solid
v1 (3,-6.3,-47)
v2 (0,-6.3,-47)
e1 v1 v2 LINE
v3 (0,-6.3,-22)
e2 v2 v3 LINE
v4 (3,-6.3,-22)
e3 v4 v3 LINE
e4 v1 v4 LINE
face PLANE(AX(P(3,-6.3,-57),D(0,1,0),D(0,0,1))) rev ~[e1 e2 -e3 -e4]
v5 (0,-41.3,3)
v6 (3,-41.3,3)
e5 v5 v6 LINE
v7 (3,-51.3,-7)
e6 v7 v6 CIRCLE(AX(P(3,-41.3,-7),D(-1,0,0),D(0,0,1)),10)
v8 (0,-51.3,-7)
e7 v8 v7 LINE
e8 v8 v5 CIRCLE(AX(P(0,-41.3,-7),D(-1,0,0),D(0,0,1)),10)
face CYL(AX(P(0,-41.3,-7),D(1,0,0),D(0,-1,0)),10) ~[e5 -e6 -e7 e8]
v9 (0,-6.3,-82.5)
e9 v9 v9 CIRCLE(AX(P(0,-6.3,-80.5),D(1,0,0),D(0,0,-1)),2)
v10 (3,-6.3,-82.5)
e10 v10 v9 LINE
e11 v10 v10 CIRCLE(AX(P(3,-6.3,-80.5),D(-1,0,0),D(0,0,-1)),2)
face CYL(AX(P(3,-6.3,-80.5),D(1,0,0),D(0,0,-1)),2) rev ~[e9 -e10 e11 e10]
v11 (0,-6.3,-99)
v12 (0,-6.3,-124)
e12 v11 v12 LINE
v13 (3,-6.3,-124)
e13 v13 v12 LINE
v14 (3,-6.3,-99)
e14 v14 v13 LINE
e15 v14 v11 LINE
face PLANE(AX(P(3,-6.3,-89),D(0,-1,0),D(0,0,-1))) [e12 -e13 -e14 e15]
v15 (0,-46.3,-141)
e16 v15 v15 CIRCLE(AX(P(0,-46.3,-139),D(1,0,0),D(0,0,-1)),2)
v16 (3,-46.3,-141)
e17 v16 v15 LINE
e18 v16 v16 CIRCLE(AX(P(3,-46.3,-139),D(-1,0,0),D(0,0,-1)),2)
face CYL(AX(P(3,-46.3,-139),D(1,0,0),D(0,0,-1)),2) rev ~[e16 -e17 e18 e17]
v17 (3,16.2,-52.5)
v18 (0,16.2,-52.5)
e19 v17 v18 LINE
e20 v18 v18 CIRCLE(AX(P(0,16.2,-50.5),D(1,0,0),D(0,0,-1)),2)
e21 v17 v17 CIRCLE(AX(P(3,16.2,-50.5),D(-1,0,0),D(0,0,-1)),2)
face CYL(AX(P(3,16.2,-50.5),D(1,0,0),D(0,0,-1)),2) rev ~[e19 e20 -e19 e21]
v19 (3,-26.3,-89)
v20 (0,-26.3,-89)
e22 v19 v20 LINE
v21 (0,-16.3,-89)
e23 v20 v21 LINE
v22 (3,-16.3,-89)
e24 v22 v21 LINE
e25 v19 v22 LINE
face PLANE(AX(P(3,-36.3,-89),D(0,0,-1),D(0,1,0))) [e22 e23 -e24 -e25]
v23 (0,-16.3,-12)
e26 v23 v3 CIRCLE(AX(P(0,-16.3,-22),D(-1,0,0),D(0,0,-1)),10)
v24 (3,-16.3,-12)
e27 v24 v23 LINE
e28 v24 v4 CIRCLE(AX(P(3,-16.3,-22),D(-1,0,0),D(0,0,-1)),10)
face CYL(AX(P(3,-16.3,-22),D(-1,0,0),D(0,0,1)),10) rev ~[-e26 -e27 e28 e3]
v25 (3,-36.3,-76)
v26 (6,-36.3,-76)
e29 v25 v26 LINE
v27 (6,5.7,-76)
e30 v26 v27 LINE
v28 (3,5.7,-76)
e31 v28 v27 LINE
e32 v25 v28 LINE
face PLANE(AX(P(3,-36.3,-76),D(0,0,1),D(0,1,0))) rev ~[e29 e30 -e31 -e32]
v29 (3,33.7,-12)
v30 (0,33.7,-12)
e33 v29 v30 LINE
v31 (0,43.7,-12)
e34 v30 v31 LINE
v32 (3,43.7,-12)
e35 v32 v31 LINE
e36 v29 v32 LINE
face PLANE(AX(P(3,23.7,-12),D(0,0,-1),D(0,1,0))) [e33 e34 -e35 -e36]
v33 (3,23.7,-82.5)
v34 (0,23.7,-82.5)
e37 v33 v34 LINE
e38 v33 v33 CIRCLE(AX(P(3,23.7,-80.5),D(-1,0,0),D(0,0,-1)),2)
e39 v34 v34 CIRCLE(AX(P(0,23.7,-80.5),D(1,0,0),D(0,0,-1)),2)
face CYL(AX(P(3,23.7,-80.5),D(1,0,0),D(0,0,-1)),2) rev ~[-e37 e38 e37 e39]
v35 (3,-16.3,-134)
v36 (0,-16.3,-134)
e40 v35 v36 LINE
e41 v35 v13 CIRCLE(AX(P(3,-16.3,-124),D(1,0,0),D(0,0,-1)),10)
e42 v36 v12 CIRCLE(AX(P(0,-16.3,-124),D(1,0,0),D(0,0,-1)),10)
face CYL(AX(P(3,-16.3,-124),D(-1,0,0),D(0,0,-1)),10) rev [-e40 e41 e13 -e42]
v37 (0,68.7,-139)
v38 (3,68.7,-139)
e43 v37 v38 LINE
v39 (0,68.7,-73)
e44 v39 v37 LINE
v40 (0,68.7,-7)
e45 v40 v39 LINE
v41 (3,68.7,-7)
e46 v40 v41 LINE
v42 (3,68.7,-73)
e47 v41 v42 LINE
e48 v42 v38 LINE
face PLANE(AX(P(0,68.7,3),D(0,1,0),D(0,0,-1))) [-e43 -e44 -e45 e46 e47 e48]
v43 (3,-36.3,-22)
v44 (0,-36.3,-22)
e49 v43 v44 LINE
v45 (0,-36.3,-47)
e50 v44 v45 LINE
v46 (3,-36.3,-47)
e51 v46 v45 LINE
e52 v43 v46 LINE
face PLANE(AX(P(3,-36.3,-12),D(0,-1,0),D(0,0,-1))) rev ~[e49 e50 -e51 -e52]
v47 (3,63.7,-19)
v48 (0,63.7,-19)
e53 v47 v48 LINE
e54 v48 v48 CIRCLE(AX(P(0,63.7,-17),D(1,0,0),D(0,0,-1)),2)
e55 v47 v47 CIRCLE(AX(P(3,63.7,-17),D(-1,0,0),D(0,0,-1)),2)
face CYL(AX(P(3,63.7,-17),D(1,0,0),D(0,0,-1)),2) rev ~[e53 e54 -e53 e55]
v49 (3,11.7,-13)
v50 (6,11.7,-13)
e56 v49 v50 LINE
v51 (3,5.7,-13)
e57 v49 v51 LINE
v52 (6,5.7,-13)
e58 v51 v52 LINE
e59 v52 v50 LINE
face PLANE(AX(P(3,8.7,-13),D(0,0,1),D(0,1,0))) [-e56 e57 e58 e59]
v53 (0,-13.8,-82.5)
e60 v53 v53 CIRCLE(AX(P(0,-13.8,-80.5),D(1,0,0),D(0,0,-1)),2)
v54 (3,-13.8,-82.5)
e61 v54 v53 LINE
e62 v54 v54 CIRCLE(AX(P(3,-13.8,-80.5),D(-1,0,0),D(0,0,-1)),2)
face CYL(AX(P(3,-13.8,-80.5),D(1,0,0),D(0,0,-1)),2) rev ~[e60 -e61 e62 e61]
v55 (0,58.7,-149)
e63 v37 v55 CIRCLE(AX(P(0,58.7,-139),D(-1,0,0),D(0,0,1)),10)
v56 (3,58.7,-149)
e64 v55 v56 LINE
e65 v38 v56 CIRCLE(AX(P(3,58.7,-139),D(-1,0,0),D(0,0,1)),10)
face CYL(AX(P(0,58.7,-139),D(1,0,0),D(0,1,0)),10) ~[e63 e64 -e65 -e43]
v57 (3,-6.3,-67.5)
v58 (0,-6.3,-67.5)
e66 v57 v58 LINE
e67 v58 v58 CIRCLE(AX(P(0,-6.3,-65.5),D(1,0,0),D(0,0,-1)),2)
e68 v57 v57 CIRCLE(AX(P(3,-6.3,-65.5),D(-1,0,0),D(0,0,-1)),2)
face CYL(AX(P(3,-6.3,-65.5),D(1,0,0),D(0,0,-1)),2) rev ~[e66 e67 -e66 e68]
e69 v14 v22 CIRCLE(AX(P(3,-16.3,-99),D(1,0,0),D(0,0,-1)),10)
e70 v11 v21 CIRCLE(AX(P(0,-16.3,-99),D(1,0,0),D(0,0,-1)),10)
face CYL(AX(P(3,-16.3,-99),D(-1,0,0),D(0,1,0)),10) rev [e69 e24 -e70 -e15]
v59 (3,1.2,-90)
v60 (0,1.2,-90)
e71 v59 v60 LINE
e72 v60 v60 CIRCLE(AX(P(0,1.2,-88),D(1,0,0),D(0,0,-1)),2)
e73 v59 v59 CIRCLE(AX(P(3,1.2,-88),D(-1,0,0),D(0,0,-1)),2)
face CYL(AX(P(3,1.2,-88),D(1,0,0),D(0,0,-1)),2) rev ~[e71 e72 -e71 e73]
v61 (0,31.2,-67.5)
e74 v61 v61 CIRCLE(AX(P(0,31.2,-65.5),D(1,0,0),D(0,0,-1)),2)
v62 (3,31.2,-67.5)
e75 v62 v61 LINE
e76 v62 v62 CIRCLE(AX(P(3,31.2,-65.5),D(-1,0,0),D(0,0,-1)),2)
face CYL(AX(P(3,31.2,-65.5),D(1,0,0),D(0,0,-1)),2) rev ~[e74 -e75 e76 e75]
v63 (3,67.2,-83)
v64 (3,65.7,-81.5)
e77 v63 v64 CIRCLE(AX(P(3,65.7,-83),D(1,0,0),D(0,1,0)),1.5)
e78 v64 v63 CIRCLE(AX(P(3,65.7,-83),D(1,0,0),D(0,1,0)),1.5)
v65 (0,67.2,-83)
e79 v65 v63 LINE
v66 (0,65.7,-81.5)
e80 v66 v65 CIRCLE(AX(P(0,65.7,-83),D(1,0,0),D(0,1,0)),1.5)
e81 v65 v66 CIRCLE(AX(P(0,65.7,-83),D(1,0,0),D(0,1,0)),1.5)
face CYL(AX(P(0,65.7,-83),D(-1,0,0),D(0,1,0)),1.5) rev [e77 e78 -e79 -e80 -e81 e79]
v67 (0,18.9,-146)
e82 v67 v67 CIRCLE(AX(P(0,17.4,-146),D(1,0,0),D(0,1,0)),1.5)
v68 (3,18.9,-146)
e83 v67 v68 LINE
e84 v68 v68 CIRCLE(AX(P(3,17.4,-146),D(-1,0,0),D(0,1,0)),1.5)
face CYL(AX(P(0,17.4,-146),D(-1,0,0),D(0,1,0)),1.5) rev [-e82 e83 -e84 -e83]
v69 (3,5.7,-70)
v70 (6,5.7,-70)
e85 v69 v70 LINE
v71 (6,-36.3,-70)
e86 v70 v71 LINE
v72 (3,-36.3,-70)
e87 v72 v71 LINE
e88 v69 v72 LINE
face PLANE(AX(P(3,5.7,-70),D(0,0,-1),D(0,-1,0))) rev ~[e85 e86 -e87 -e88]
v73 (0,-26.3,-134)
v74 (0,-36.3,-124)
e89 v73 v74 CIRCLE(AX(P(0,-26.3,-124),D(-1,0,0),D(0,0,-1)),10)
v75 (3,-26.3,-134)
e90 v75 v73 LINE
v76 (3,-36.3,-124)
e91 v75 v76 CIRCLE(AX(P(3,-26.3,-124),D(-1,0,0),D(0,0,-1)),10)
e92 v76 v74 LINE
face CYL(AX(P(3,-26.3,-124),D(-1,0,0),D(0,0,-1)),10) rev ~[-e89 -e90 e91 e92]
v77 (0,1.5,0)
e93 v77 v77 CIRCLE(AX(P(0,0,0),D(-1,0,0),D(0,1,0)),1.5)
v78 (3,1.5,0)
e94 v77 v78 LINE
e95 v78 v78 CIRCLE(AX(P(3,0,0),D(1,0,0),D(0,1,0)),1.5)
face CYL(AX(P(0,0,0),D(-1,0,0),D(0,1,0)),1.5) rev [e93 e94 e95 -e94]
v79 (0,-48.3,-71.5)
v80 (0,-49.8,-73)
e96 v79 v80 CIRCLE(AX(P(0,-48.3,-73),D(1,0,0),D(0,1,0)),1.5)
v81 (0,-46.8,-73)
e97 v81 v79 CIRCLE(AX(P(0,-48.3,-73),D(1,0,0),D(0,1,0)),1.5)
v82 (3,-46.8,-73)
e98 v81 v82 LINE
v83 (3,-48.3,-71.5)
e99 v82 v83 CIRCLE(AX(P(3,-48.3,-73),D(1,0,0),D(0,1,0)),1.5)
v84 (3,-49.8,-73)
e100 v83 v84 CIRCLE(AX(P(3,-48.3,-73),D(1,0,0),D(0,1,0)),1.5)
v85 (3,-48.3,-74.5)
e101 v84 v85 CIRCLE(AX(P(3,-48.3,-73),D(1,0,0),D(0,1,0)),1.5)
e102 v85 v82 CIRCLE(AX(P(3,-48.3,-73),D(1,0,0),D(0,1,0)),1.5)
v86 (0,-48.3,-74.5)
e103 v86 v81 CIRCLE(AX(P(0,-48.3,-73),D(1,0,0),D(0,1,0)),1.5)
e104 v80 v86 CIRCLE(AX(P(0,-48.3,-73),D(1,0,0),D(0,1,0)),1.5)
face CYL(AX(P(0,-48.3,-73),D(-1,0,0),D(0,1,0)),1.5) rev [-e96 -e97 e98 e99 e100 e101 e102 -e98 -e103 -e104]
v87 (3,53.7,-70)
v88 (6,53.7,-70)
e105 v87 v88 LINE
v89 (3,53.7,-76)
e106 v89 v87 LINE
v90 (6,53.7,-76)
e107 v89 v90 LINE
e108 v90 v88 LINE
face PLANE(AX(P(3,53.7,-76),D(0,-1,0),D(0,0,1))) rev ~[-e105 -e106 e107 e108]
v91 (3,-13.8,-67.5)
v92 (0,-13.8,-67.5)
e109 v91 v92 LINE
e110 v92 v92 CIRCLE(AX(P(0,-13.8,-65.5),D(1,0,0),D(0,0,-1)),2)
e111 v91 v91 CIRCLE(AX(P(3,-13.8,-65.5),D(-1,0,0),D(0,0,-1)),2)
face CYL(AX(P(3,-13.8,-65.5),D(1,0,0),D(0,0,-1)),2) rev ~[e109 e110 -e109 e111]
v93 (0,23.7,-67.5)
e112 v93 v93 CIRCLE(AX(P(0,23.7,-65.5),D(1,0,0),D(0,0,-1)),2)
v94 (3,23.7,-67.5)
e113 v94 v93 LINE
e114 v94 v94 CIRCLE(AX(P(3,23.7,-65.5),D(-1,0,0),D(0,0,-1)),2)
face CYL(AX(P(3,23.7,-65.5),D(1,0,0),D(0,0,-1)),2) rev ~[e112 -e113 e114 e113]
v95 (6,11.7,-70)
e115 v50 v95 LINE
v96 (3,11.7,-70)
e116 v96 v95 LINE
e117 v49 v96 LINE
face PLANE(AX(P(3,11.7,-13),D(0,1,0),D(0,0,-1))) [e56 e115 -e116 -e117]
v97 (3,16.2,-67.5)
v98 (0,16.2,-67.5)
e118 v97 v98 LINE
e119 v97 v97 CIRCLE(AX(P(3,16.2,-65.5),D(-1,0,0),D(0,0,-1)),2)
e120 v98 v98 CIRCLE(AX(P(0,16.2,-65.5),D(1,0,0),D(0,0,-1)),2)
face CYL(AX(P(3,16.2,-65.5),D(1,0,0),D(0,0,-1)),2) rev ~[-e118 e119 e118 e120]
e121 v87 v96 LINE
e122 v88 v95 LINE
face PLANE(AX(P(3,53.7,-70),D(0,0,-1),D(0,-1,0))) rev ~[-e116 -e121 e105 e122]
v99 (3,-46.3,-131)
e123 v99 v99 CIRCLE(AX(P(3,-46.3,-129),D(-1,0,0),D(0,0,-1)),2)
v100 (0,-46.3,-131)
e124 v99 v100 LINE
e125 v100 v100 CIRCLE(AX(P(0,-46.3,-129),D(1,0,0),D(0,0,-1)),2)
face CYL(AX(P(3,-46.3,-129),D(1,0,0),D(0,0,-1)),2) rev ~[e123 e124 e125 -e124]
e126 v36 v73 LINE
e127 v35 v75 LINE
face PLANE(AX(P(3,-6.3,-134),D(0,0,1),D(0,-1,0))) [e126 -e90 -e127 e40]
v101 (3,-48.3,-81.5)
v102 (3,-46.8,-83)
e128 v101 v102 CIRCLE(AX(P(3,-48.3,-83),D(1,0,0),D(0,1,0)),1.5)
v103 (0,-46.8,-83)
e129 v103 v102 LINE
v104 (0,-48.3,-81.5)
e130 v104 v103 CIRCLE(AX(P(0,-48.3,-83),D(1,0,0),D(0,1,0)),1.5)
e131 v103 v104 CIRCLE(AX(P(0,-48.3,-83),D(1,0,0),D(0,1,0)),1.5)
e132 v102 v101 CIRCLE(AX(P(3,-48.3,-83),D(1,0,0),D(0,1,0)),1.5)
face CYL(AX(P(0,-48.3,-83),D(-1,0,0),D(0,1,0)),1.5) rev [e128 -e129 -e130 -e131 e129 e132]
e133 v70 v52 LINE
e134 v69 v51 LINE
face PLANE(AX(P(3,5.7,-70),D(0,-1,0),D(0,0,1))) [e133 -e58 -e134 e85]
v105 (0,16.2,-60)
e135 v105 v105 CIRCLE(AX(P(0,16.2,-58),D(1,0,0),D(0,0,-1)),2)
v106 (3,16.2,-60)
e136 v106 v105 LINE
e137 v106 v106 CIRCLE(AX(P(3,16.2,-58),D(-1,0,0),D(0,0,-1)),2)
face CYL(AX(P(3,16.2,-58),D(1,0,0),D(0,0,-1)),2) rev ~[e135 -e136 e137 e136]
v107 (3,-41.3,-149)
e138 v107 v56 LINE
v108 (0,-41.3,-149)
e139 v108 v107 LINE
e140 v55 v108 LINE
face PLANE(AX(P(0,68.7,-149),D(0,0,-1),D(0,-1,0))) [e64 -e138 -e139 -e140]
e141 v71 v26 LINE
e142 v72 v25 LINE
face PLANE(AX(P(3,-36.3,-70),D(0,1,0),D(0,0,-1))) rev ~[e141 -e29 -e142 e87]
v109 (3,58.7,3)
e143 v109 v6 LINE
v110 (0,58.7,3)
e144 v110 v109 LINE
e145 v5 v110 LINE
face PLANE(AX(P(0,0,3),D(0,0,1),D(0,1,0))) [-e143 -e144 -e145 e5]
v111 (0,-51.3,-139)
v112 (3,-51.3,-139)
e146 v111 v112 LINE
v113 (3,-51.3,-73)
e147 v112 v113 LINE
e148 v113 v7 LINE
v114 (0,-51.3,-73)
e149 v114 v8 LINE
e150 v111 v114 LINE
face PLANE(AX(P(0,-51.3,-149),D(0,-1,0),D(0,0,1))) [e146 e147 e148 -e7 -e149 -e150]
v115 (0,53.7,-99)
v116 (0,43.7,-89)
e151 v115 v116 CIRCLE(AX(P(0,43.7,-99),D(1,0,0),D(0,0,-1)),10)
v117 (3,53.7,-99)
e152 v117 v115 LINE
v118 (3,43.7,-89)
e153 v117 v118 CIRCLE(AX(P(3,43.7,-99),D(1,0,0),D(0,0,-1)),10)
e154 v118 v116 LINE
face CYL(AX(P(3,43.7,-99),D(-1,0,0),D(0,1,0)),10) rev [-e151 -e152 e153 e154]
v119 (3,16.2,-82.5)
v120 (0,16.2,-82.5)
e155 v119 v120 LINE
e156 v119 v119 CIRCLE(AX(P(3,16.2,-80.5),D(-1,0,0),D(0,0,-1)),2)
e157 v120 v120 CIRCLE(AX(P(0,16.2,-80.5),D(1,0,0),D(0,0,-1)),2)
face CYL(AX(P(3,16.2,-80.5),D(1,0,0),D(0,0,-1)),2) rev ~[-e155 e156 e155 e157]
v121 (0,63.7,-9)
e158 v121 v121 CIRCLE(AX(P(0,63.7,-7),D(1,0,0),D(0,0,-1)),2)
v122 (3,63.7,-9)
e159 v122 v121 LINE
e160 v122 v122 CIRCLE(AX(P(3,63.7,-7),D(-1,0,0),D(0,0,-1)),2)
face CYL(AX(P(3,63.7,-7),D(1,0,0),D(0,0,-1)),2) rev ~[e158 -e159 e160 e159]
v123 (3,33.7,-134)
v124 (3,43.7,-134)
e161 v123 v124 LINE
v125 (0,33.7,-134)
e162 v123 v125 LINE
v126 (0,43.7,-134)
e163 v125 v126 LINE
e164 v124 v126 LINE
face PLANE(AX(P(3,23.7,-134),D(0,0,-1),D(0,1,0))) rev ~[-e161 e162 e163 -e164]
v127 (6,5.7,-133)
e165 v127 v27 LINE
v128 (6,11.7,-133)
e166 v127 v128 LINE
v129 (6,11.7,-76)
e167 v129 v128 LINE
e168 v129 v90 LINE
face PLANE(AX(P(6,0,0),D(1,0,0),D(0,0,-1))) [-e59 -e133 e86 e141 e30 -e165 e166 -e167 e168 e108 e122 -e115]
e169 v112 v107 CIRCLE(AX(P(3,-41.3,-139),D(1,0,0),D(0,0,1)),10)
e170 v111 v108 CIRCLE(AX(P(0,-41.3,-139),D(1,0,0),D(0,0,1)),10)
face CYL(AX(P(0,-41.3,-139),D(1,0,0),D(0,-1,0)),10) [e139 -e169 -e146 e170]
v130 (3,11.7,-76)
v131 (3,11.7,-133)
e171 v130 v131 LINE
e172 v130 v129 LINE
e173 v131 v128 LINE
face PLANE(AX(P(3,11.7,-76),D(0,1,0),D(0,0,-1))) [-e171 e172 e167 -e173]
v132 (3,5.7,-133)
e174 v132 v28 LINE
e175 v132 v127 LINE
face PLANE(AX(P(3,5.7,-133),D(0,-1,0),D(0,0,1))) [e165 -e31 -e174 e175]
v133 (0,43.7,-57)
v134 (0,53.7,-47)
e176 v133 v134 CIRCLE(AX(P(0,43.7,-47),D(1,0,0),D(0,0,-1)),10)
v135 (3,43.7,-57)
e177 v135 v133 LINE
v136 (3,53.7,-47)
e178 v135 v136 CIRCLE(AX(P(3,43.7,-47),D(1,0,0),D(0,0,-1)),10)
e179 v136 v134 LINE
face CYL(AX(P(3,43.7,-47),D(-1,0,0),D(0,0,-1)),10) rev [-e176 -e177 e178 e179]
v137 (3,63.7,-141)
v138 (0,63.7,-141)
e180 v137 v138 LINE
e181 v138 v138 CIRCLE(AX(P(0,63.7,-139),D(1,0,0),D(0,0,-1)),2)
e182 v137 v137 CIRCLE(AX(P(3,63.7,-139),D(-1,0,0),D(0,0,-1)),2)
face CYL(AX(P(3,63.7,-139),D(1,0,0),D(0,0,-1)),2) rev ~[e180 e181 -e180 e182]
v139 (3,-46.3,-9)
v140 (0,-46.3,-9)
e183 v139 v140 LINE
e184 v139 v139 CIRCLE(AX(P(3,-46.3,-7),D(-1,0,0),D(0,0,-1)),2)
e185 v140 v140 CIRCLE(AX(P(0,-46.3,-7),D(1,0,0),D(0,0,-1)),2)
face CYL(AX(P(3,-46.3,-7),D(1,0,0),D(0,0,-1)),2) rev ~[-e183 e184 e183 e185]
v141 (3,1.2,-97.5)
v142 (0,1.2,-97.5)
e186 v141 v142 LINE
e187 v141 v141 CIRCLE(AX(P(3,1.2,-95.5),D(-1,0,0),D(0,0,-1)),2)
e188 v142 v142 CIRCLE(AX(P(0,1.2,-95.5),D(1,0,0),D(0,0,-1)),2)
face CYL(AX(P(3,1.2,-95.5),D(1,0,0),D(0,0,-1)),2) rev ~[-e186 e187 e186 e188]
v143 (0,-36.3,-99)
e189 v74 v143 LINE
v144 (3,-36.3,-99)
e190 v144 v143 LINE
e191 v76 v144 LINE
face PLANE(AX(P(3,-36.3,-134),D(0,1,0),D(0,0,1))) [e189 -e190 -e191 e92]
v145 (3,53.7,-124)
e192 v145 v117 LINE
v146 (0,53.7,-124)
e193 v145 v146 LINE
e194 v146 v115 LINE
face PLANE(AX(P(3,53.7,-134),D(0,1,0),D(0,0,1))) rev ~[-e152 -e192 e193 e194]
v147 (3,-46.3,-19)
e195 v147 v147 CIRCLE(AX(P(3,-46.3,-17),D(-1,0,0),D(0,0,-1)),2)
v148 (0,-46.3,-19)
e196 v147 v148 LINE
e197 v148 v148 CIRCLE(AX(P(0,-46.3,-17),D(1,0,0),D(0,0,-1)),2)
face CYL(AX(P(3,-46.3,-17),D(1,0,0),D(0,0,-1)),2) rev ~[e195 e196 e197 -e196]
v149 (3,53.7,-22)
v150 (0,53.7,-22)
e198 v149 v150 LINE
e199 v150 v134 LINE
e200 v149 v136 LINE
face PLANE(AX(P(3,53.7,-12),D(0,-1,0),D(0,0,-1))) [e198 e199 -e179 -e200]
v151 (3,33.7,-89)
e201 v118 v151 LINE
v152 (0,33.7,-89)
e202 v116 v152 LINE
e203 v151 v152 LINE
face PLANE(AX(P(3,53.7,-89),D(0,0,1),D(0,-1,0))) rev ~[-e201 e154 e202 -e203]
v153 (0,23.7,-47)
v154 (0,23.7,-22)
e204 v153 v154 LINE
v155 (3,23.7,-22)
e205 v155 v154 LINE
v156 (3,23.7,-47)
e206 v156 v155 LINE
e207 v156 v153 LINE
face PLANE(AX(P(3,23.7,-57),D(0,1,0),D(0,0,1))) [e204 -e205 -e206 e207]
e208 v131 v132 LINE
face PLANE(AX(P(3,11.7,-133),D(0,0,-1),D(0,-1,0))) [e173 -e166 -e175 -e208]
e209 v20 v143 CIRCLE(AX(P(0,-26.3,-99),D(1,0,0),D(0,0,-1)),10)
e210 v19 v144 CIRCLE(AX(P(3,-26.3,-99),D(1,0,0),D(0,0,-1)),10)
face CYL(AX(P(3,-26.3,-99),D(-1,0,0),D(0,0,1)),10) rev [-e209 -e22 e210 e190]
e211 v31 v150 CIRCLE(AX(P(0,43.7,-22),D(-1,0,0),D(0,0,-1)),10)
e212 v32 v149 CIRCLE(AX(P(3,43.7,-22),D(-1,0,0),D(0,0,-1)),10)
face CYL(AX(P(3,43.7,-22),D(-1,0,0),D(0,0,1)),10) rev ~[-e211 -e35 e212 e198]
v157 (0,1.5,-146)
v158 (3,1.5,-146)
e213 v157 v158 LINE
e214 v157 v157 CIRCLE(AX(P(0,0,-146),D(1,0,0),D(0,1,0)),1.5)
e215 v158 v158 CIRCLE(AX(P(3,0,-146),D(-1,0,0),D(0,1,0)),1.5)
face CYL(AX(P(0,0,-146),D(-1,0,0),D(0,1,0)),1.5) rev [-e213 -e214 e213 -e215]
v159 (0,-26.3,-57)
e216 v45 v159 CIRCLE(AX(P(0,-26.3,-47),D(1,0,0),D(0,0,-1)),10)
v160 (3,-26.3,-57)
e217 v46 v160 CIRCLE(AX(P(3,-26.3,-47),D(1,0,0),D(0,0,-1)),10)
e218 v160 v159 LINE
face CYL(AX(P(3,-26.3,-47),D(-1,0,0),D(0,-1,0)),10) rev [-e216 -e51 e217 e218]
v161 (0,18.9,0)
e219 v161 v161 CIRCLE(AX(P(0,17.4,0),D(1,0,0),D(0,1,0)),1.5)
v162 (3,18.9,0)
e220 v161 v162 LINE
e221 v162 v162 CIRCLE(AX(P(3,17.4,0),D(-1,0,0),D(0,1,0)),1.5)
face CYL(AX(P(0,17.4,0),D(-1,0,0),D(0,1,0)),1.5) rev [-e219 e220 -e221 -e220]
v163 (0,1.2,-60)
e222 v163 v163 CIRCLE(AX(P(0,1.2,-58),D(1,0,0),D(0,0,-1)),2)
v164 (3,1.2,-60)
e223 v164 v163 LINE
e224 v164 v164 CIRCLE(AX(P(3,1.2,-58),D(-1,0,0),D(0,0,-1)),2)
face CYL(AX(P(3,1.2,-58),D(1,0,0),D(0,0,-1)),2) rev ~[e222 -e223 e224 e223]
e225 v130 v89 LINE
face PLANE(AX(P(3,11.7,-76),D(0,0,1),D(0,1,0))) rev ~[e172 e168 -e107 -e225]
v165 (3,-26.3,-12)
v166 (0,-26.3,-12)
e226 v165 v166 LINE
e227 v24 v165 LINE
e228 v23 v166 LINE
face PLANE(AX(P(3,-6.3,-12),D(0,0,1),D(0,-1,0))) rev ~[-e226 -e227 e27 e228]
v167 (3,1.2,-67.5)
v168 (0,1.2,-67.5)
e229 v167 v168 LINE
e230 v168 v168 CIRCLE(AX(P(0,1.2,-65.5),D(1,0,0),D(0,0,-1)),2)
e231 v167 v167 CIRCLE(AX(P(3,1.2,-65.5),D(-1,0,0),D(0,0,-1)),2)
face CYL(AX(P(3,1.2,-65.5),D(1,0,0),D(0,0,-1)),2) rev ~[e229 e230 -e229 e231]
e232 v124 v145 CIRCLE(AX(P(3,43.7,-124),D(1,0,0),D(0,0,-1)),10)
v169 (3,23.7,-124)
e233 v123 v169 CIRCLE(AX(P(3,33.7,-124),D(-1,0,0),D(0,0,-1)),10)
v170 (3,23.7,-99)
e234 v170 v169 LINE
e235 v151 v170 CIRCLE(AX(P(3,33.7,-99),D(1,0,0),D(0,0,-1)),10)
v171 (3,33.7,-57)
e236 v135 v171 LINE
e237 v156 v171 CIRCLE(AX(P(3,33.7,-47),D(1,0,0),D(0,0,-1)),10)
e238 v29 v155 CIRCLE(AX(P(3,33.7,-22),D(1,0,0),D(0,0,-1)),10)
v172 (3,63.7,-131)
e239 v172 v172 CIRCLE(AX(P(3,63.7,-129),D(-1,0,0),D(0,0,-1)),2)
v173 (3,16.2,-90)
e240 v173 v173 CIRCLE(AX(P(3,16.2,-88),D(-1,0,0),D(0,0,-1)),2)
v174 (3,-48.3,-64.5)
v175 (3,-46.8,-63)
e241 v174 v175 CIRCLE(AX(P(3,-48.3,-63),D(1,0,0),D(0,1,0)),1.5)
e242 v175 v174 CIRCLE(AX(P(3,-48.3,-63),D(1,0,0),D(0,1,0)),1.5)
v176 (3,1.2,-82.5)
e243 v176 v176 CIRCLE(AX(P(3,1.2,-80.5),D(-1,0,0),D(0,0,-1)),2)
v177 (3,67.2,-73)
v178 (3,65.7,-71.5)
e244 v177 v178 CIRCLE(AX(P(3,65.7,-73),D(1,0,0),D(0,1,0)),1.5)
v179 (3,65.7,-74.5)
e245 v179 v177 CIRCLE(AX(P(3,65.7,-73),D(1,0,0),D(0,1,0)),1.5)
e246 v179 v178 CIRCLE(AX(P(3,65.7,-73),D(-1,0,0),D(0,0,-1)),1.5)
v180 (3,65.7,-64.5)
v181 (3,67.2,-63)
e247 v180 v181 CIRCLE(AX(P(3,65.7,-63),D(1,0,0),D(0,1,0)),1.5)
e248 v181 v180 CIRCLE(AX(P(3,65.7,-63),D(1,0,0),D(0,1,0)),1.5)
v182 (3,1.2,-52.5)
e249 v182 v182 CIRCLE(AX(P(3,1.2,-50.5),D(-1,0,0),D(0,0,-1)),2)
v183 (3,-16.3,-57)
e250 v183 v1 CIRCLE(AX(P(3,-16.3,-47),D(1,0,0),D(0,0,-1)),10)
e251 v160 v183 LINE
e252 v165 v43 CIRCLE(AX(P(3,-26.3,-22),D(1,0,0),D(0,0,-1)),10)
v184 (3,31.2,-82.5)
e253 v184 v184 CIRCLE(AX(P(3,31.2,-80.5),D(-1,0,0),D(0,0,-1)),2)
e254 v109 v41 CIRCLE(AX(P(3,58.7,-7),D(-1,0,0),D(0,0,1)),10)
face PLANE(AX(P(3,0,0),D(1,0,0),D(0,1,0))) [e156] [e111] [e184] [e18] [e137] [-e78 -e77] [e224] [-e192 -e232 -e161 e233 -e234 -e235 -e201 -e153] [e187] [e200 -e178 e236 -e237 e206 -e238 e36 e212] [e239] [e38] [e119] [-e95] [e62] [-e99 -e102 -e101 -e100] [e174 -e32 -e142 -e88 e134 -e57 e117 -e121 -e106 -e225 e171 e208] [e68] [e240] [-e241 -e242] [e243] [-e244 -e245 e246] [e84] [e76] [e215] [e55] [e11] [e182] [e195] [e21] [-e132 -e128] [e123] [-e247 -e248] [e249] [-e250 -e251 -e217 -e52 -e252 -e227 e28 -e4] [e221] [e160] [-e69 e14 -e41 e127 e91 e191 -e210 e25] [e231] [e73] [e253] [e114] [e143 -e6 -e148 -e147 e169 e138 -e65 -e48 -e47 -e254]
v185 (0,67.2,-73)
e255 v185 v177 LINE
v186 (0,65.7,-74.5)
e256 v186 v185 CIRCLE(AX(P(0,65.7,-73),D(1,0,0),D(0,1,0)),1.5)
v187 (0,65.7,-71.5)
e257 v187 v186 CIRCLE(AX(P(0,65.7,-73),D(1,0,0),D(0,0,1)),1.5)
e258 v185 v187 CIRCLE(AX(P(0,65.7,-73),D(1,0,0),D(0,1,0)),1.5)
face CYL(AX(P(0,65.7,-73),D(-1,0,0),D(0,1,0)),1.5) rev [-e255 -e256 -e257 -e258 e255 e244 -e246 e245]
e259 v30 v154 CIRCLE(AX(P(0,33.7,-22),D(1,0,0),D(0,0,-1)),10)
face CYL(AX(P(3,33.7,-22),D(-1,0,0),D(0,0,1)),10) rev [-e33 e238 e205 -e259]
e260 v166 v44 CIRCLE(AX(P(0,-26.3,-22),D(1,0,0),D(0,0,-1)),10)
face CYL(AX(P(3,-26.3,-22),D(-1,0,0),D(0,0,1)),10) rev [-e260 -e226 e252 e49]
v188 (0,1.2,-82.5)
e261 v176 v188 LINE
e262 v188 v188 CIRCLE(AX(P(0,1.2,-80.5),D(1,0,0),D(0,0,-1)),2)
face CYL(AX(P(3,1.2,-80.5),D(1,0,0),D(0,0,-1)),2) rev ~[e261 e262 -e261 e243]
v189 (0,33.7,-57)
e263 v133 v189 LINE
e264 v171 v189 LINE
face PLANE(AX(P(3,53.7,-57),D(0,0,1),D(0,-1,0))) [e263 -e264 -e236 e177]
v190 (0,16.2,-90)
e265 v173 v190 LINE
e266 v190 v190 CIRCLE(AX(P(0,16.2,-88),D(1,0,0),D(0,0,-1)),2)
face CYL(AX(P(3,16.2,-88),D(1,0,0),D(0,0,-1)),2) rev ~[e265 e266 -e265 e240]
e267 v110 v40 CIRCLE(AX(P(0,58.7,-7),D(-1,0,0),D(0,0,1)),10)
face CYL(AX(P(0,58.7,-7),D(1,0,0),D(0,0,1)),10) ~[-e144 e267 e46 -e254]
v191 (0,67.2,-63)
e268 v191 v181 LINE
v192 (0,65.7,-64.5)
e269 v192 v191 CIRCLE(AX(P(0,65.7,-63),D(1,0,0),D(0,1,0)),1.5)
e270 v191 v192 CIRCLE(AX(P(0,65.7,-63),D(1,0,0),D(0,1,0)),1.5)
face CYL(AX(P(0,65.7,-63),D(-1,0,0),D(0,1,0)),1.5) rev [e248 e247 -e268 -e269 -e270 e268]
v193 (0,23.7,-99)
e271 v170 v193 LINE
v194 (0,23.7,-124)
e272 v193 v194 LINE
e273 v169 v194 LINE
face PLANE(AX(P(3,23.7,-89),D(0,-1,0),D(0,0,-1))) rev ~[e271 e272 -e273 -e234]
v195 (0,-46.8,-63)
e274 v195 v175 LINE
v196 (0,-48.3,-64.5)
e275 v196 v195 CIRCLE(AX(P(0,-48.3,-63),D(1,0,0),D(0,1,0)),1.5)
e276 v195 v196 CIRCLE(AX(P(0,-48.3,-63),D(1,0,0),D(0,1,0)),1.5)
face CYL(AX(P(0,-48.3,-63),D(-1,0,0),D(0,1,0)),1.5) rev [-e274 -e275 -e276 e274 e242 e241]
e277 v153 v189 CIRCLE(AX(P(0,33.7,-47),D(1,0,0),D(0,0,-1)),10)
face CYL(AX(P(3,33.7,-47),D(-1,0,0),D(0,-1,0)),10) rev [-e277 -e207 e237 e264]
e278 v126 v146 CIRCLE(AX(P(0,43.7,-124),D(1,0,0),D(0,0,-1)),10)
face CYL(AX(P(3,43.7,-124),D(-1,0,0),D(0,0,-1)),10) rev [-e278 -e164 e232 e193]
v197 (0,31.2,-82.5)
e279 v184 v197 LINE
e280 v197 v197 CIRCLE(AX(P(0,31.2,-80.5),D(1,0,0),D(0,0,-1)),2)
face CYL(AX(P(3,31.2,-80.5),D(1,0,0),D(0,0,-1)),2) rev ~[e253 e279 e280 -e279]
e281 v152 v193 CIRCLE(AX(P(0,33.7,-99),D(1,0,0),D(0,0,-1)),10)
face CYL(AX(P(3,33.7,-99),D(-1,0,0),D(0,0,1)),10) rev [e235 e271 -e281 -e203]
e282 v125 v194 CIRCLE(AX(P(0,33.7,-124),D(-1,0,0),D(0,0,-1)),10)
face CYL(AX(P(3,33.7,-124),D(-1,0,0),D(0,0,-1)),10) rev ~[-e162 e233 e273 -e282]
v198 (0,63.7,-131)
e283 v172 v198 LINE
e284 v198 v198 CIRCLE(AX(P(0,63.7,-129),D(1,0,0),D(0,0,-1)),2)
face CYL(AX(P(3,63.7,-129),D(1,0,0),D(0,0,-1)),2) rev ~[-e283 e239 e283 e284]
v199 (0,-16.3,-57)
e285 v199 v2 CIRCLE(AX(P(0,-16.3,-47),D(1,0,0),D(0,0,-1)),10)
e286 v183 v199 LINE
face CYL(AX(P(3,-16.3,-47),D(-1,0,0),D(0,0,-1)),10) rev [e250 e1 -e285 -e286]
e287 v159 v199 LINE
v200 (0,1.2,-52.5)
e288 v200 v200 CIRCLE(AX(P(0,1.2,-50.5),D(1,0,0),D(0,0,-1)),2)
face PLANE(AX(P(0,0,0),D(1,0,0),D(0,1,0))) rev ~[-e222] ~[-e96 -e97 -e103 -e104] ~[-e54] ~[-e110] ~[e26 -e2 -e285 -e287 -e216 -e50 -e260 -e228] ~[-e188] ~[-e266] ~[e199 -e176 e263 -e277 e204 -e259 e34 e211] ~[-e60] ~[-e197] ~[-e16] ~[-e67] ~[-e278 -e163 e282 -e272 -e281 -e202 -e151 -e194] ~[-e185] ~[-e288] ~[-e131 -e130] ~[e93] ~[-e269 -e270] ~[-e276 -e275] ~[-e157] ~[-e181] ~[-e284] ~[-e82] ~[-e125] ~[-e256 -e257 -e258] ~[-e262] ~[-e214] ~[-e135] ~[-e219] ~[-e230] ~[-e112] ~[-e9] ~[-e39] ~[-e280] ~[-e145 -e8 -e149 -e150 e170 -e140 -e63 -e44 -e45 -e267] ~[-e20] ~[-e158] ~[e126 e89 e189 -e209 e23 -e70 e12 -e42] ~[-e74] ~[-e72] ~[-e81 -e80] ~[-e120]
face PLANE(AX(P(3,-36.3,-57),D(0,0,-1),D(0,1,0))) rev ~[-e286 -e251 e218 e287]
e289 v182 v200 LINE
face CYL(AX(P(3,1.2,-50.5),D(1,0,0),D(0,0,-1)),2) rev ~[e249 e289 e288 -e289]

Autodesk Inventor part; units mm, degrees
ref_plane "YZ Plane" through (0, 0, 0) normal (1, 0, 0) x (0, 1, 0)
ref_plane "XZ Plane" through (0, 0, 0) normal (0, 1, 0) x (-1, 0, 0)
ref_plane "XY Plane" through (0, 0, 0) normal (0, 0, 1) x (1, 0, 0)
sketch "Sketch1" plane through (0, 0, 0) normal (1, 0, 0) x (0, 1, 0)
  line L0 (0, 0) -> (17.4, 0)
  line L1 (17.4, 0) -> (17.4, -146)
  line L2 (17.4, -146) -> (0, -146)
  line L3 (0, -146) -> (0, 0)
  circle A0 centre (17.4, 0) radius 1.5
  circle A1 centre (0, 0) radius 1.5
  circle A2 centre (17.4, -146) radius 1.5
  circle A3 centre (0, -146) radius 1.5
  line L4 (17.4, -146) -> (20.4, -146)
  line L5 (20.4, -146) -> (20.4, -149)
  line L6 (20.4, -149) -> (17.4, -149)
  line L7 (17.4, -149) -> (17.4, -146)
  line L8 (0, 0) -> (-3, 0)
  line L9 (-3, 0) -> (-3, 3)
  line L10 (-3, 3) -> (0, 3)
  line L11 (0, 3) -> (0, 0)
  line L12 (-3, 3) -> (20.4, 3)
  line L13 (20.4, 3) -> (20.4, -149)
  line L14 (20.4, -149) -> (-3, -149)
  line L15 (-3, -149) -> (-3, 3)
  line L16 (20.4, 3) -> (68.7, 3)
  line L17 (68.7, 3) -> (68.7, -149)
  line L18 (68.7, -149) -> (20.4, -149)
  line L19 (20.4, -149) -> (20.4, 3)
  line L20 (-3, -149) -> (-51.3, -149)
  line L21 (-51.3, -149) -> (-51.3, 3)
  line L22 (-51.3, 3) -> (-3, 3)
  line L23 (-3, 3) -> (-3, -149)
  line L24 (68.7, -73) -> (65.7, -73)
  line L25 (65.7, -73) -> (65.7, -63)
  line L26 (65.7, -63) -> (65.7, -83)
  circle A4 centre (65.7, -63) radius 1.5
  circle A5 centre (65.7, -73) radius 1.5
  circle A6 centre (65.7, -83) radius 1.5
  line L27 (65.7, -73) -> (62.7, -73)
  line L28 (-48.3, -73) -> (-48.3, -63)
  line L29 (-48.3, -63) -> (-48.3, -83)
  circle A7 centre (-48.3, -63) radius 1.5
  circle A8 centre (-48.3, -73) radius 1.5
  circle A9 centre (-48.3, -83) radius 1.5
  line L30 (-48.3, -73) -> (-51.3, -73)
  dimension "d0" = 17.4
  dimension "d1" = 146
  dimension "d2" = 3
  dimension "d3" = 3
  dimension "d4" = 3
  dimension "d5" = 3
  dimension "d6" = 3
  dimension "d7" = 3
  dimension "d8" = 3
  dimension "d9" = 3
  dimension "d10" = 48.3
  dimension "d11" = 48.3
  dimension "d12" = 3
  dimension "d13" = 10
  dimension "d14" = 20
  dimension "d15" = 3
  dimension "d16" = 3
  dimension "d17" = 3
  dimension "d18" = 3
  dimension "d19" = 10
  dimension "d20" = 20
  dimension "d21" = 3
  dimension "d22" = 3
  dimension "d23" = 3
  dimension "d24" = 3
extrude "Extrusion1" add sketch "Sketch1" along normal blind 3 contours A1 L11 L12 L13 L4 A2 L1 A0 L0 | L0 A0 L1 A2 L2 A3 L3 A1 | L3 A3 L2 A2 L7 L14 L15 L8 A1 | L8 L9 L10 L11 A1 | L15 L20 L21 L22 L9 | L16 L17 L18 L5 L13 | L7 A2 L4 L5 L6
sketch "Sketch2" plane through (3, 0, 0) normal (1, 0, 0) x (0, 0, -1)
  line L0 (-3, 68.7) -> (-3, -51.3) projected
  line L1 (-3, 8.7) -> (149, 8.7)
  line L2 (149, -51.3) -> (149, 68.7) projected
  line L3 (13, 11.7) -> (133, 11.7)
  line L4 (133, 11.7) -> (133, 5.7)
  line L5 (133, 5.7) -> (13, 5.7)
  line L6 (13, 5.7) -> (13, 11.7)
  line L7 (13, 11.7) -> (133, 5.7) construction
  line L8 (133, 11.7) -> (13, 5.7) construction
  line L9 (70, -36.3) -> (76, -36.3)
  line L10 (76, -36.3) -> (76, 53.7)
  line L11 (76, 53.7) -> (70, 53.7)
  line L12 (70, 53.7) -> (70, -36.3)
  line L13 (70, -36.3) -> (76, 53.7) construction
  line L14 (76, -36.3) -> (70, 53.7) construction
  point P0 (0, 0)
  point P1 (73, 8.7)
  point P2 (73, 8.7)
  point P3 (76, 5.7)
  point P4 (76, 11.7)
  point P5 (70, 11.7)
  point P6 (70, 5.7)
  dimension "d27" = 120
  dimension "d28" = 6
  dimension "d29" = 6
  dimension "d30" = 90
extrude "Extrusion2" add sketch "Sketch2" along normal blind 3
sketch "Sketch3" plane through (3, 0, 0) normal (1, 0, 0) x (0, 0, -1)
  line L0 (-3, 68.7) -> (-3, -51.3) projected
  line L1 (-3, 68.7) -> (12, 68.7)
  line L2 (12, 68.7) -> (12, 53.7)
  line L3 (12, 53.7) -> (-3, 53.7)
  line L4 (-3, 53.7) -> (-3, 68.7)
  line L5 (12, 53.7) -> (57, 53.7)
  line L6 (57, 53.7) -> (57, 23.7)
  line L7 (57, 23.7) -> (12, 23.7)
  line L8 (12, 23.7) -> (12, 53.7)
  line L9 (149, -51.3) -> (149, 68.7) projected
  line L10 (149, 68.7) -> (134, 68.7)
  line L11 (134, 68.7) -> (134, 53.7)
  line L12 (134, 53.7) -> (149, 53.7)
  line L13 (149, 53.7) -> (149, 68.7)
  line L14 (134, 53.7) -> (89, 53.7)
  line L15 (89, 53.7) -> (89, 23.7)
  line L16 (89, 23.7) -> (134, 23.7)
  line L17 (134, 23.7) -> (134, 53.7)
  line L18 (-3, -51.3) -> (12, -51.3)
  line L19 (12, -51.3) -> (12, -36.3)
  line L20 (12, -36.3) -> (-3, -36.3)
  line L21 (-3, -36.3) -> (-3, -51.3)
  line L22 (12, -36.3) -> (57, -36.3)
  line L23 (57, -36.3) -> (57, -6.3)
  line L24 (57, -6.3) -> (12, -6.3)
  line L25 (12, -6.3) -> (12, -36.3)
  line L26 (149, -51.3) -> (134, -51.3)
  line L27 (134, -51.3) -> (134, -36.3)
  line L28 (134, -36.3) -> (149, -36.3)
  line L29 (149, -36.3) -> (149, -51.3)
  line L30 (134, -36.3) -> (89, -36.3)
  line L31 (89, -36.3) -> (89, -6.3)
  line L32 (89, -6.3) -> (134, -6.3)
  line L33 (134, -6.3) -> (134, -36.3)
  line L34 (-3, -51.3) -> (149, -51.3) projected
  point P0 (0, 0)
  dimension "d33" = 15
  dimension "d34" = 15
  dimension "d35" = 45
  dimension "d36" = 30
  dimension "d37" = 15
  dimension "d38" = 15
  dimension "d39" = 45
  dimension "d40" = 30
  dimension "d41" = 15
  dimension "d43" = 30
  dimension "d44" = 15
  dimension "d45" = 15
  dimension "d46" = 45
  dimension "d47" = 30
  dimension "d71" = 15
extrude "Extrusion3" cut sketch "Sketch3" against normal blind 3 contours L5 L6 L7 L8 | L25 L24 L23 L22 | L30 L31 L32 L33 | L17 L16 L15 L14
fillet "Fillet1" radius 10 16 edges at (1.5, 23.7, -134) (1.5, 53.7, -134) (1.5, 53.7, -89) (1.5, 23.7, -89) (1.5, 53.7, -57) (1.5, 23.7, -57) (1.5, 53.7, -12) (1.5, 23.7, -12) (1.5, -36.3, -57) (1.5, -6.3, -57) (1.5, -6.3, -12) (1.5, -36.3, -12) (1.5, -36.3, -134) (1.5, -6.3, -134) (1.5, -6.3, -89) (1.5, -36.3, -89)
sketch "Sketch4" plane through (3, 0, 0) normal (1, 0, 0) x (0, 0, -1)
  line L0 (-3, 68.7) -> (-3, -51.3) projected
  line L1 (-3, 68.7) -> (7, 68.7)
  line L2 (7, 68.7) -> (7, 63.7)
  line L3 (7, 63.7) -> (-3, 63.7)
  line L4 (-3, 63.7) -> (-3, 68.7)
  line L5 (149, -51.3) -> (149, 68.7) projected
  line L6 (149, 68.7) -> (139, 68.7)
  line L7 (139, 68.7) -> (139, 63.7)
  line L8 (139, 63.7) -> (149, 63.7)
  line L9 (149, 63.7) -> (149, 68.7)
  line L10 (149, -51.3) -> (139, -51.3)
  line L11 (139, -51.3) -> (139, -46.3)
  line L12 (139, -46.3) -> (149, -46.3)
  line L13 (149, -46.3) -> (149, -51.3)
  line L14 (-3, -51.3) -> (149, -51.3) projected
  line L15 (-3, -51.3) -> (7, -51.3)
  line L16 (7, -51.3) -> (7, -46.3)
  line L17 (7, -46.3) -> (-3, -46.3)
  line L18 (-3, -46.3) -> (-3, -51.3)
  circle A0 centre (7, 63.7) radius 2
  circle A1 centre (139, 63.7) radius 2
  circle A2 centre (139, -46.3) radius 2
  circle A3 centre (7, -46.3) radius 2
  line L19 (7, 63.7) -> (17, 63.7)
  line L20 (139, -46.3) -> (129, -46.3)
  line L21 (17, 63.7) -> (129, 63.7)
  line L22 (129, 63.7) -> (129, -46.3)
  line L23 (129, -46.3) -> (17, -46.3)
  line L24 (17, -46.3) -> (17, 63.7)
  circle A4 centre (129, 63.7) radius 2
  circle A5 centre (17, -46.3) radius 2
  circle A6 centre (17, 63.7) radius 2
  circle A7 centre (129, -46.3) radius 2
  point P0 (0, 0)
  dimension "d51" = 10
  dimension "d52" = 5
  dimension "d53" = 10
  dimension "d54" = 5
  dimension "d55" = 10
  dimension "d56" = 5
  dimension "d57" = 10
  dimension "d58" = 5
  dimension "d59" = 4
  dimension "d60" = 4
  dimension "d61" = 4
  dimension "d62" = 4
  dimension "d63" = 10
  dimension "d64" = 10
  dimension "d65" = 4
  dimension "d66" = 4
  dimension "d67" = 4
  dimension "d68" = 4
extrude "Extrusion4" cut sketch "Sketch4" against normal blind 10 contours A0 L2 L3 | L3 L19 A0 | A0 L19 L2 | A3 L16 L17 | L17 L16 A3 | A6 L21 L19 | L19 L24 A6 | L21 A6 L24 | A2 L20 L11 | L11 L12 A2 | A4 L22 L21 | L21 L22 A4 | A5 L23 L24 | L24 L23 A5 | L20 A2 L12 | A7 L23 L20 | L20 L22 A7 | L22 L23 A7 | A1 L7 L8 | L8 L7 A1
sketch "Sketch5" plane through (3, 0, 0) normal (1, 0, 0) x (0, 0, -1)
  line L0 (70, 11.7) -> (13, 11.7) projected
  line L1 (70, 11.7) -> (73, 11.7)
  line L2 (73, 11.7) -> (73, 8.7)
  line L3 (73, 8.7) -> (70, 8.7)
  line L4 (70, 8.7) -> (70, 11.7)
  line L5 (80.5, 1.2) -> (65.5, 1.2)
  line L6 (65.5, 1.2) -> (65.5, 16.2)
  line L7 (65.5, 16.2) -> (80.5, 16.2)
  line L8 (80.5, 16.2) -> (80.5, 1.2)
  line L9 (80.5, 1.2) -> (65.5, 16.2) construction
  line L10 (65.5, 1.2) -> (80.5, 16.2) construction
  line L11 (58, 1.2) -> (88, 1.2)
  line L12 (88, 1.2) -> (88, 16.2)
  line L13 (88, 16.2) -> (58, 16.2)
  line L14 (58, 16.2) -> (58, 1.2)
  line L15 (58, 1.2) -> (88, 16.2) construction
  line L16 (88, 1.2) -> (58, 16.2) construction
  line L17 (65.5, -6.3) -> (80.5, -6.3)
  line L18 (80.5, -6.3) -> (80.5, 23.7)
  line L19 (80.5, 23.7) -> (65.5, 23.7)
  line L20 (65.5, 23.7) -> (65.5, -6.3)
  line L21 (65.5, -6.3) -> (80.5, 23.7) construction
  line L22 (80.5, -6.3) -> (65.5, 23.7) construction
  line L23 (65.5, -13.8) -> (80.5, -13.8)
  line L24 (80.5, -13.8) -> (80.5, 31.2)
  line L25 (80.5, 31.2) -> (65.5, 31.2)
  line L26 (65.5, 31.2) -> (65.5, -13.8)
  line L27 (65.5, -13.8) -> (80.5, 31.2) construction
  line L28 (80.5, -13.8) -> (65.5, 31.2) construction
  line L29 (50.5, 1.2) -> (95.5, 1.2)
  line L30 (95.5, 1.2) -> (95.5, 16.2)
  line L31 (95.5, 16.2) -> (50.5, 16.2)
  line L32 (50.5, 16.2) -> (50.5, 1.2)
  line L33 (50.5, 1.2) -> (95.5, 16.2) construction
  line L34 (95.5, 1.2) -> (50.5, 16.2) construction
  circle A0 centre (50.5, 16.2) radius 2
  circle A1 centre (58, 16.2) radius 2
  circle A2 centre (65.5, 16.2) radius 2
  circle A3 centre (65.5, 23.7) radius 2
  circle A4 centre (65.5, 31.2) radius 2
  circle A5 centre (80.5, 31.2) radius 2
  circle A6 centre (80.5, 23.7) radius 2
  circle A7 centre (80.5, 16.2) radius 2
  circle A8 centre (88, 16.2) radius 2
  circle A9 centre (95.5, 16.2) radius 2
  circle A10 centre (50.5, 1.2) radius 2
  circle A11 centre (58, 1.2) radius 2
  circle A12 centre (65.5, 1.2) radius 2
  circle A13 centre (65.5, -6.3) radius 2
  circle A14 centre (65.5, -13.8) radius 2
  circle A15 centre (80.5, 1.2) radius 2
  circle A16 centre (88, 1.2) radius 2
  circle A17 centre (95.5, 1.2) radius 2
  circle A18 centre (80.5, -13.8) radius 2
  circle A19 centre (80.5, -6.3) radius 2
  point P0 (0, 0)
  dimension "d72" = 3
  dimension "d73" = 3
  dimension "d74" = 15
  dimension "d75" = 15
  dimension "d76" = 30
  dimension "d77" = 15
  dimension "d78" = 15
  dimension "d79" = 30
  dimension "d80" = 15
  dimension "d81" = 45
  dimension "d82" = 45
  dimension "d83" = 15
  dimension "d84" = 4
  dimension "d85" = 4
  dimension "d86" = 4
  dimension "d87" = 4
  dimension "d88" = 4
  dimension "d89" = 4
  dimension "d90" = 4
  dimension "d91" = 4
  dimension "d92" = 4
  dimension "d93" = 4
  dimension "d94" = 4
  dimension "d95" = 4
  dimension "d96" = 4
  dimension "d97" = 4
  dimension "d98" = 4
  dimension "d99" = 4
  dimension "d100" = 4
  dimension "d101" = 4
  dimension "d102" = 4
  dimension "d103" = 4
extrude "Extrusion5" cut sketch "Sketch5" against normal blind 10 contours A12 L5 L6 | L6 L11 A12 | A2 L13 L6 | L6 L7 A2 | A1 L31 L14 | L14 L13 A1 | A11 L11 L14 | L14 L29 A11 | L20 A12 L11 | L5 A12 L20 | L20 A2 L7 | L13 A2 L20 | A0 L31 L32 | L32 L31 A0 | A10 L29 L32 | L32 L29 A10 | L31 A1 L13 | L11 A11 L29 | A15 L8 L5 | L5 L18 A15 | A7 L18 L7 | L7 L8 A7 | A13 L17 L20 | L20 L26 A13 | L8 A15 L11 | L11 A15 L18 | A3 L26 L20 | L20 L19 A3 | L13 A7 L8 | L18 A7 L13 | L17 A13 L26 | A19 L24 L18 | L18 L17 A19 | L26 A3 L19 | A6 L19 L18 | L18 L24 A6 | L17 L24 A19 | A14 L23 L26 | L26 L23 A14 | A16 L12 L11 | L11 L29 A16 | A4 L25 L26 | L26 L25 A4 | A6 L24 L19 | A8 L31 L13 | L13 L12 A8 | L12 A16 L29 | L31 A8 L12 | A18 L23 L24 | L24 L23 A18 | A17 L30 L29 | L29 L30 A17 | A5 L24 L25 | L25 L24 A5
fillet "Fillet2" radius 10 4 edges at (1.5, 68.7, 3) (1.5, 68.7, -149) (1.5, -51.3, -149) (1.5, -51.3, 3)
properties part number "back_plate"
